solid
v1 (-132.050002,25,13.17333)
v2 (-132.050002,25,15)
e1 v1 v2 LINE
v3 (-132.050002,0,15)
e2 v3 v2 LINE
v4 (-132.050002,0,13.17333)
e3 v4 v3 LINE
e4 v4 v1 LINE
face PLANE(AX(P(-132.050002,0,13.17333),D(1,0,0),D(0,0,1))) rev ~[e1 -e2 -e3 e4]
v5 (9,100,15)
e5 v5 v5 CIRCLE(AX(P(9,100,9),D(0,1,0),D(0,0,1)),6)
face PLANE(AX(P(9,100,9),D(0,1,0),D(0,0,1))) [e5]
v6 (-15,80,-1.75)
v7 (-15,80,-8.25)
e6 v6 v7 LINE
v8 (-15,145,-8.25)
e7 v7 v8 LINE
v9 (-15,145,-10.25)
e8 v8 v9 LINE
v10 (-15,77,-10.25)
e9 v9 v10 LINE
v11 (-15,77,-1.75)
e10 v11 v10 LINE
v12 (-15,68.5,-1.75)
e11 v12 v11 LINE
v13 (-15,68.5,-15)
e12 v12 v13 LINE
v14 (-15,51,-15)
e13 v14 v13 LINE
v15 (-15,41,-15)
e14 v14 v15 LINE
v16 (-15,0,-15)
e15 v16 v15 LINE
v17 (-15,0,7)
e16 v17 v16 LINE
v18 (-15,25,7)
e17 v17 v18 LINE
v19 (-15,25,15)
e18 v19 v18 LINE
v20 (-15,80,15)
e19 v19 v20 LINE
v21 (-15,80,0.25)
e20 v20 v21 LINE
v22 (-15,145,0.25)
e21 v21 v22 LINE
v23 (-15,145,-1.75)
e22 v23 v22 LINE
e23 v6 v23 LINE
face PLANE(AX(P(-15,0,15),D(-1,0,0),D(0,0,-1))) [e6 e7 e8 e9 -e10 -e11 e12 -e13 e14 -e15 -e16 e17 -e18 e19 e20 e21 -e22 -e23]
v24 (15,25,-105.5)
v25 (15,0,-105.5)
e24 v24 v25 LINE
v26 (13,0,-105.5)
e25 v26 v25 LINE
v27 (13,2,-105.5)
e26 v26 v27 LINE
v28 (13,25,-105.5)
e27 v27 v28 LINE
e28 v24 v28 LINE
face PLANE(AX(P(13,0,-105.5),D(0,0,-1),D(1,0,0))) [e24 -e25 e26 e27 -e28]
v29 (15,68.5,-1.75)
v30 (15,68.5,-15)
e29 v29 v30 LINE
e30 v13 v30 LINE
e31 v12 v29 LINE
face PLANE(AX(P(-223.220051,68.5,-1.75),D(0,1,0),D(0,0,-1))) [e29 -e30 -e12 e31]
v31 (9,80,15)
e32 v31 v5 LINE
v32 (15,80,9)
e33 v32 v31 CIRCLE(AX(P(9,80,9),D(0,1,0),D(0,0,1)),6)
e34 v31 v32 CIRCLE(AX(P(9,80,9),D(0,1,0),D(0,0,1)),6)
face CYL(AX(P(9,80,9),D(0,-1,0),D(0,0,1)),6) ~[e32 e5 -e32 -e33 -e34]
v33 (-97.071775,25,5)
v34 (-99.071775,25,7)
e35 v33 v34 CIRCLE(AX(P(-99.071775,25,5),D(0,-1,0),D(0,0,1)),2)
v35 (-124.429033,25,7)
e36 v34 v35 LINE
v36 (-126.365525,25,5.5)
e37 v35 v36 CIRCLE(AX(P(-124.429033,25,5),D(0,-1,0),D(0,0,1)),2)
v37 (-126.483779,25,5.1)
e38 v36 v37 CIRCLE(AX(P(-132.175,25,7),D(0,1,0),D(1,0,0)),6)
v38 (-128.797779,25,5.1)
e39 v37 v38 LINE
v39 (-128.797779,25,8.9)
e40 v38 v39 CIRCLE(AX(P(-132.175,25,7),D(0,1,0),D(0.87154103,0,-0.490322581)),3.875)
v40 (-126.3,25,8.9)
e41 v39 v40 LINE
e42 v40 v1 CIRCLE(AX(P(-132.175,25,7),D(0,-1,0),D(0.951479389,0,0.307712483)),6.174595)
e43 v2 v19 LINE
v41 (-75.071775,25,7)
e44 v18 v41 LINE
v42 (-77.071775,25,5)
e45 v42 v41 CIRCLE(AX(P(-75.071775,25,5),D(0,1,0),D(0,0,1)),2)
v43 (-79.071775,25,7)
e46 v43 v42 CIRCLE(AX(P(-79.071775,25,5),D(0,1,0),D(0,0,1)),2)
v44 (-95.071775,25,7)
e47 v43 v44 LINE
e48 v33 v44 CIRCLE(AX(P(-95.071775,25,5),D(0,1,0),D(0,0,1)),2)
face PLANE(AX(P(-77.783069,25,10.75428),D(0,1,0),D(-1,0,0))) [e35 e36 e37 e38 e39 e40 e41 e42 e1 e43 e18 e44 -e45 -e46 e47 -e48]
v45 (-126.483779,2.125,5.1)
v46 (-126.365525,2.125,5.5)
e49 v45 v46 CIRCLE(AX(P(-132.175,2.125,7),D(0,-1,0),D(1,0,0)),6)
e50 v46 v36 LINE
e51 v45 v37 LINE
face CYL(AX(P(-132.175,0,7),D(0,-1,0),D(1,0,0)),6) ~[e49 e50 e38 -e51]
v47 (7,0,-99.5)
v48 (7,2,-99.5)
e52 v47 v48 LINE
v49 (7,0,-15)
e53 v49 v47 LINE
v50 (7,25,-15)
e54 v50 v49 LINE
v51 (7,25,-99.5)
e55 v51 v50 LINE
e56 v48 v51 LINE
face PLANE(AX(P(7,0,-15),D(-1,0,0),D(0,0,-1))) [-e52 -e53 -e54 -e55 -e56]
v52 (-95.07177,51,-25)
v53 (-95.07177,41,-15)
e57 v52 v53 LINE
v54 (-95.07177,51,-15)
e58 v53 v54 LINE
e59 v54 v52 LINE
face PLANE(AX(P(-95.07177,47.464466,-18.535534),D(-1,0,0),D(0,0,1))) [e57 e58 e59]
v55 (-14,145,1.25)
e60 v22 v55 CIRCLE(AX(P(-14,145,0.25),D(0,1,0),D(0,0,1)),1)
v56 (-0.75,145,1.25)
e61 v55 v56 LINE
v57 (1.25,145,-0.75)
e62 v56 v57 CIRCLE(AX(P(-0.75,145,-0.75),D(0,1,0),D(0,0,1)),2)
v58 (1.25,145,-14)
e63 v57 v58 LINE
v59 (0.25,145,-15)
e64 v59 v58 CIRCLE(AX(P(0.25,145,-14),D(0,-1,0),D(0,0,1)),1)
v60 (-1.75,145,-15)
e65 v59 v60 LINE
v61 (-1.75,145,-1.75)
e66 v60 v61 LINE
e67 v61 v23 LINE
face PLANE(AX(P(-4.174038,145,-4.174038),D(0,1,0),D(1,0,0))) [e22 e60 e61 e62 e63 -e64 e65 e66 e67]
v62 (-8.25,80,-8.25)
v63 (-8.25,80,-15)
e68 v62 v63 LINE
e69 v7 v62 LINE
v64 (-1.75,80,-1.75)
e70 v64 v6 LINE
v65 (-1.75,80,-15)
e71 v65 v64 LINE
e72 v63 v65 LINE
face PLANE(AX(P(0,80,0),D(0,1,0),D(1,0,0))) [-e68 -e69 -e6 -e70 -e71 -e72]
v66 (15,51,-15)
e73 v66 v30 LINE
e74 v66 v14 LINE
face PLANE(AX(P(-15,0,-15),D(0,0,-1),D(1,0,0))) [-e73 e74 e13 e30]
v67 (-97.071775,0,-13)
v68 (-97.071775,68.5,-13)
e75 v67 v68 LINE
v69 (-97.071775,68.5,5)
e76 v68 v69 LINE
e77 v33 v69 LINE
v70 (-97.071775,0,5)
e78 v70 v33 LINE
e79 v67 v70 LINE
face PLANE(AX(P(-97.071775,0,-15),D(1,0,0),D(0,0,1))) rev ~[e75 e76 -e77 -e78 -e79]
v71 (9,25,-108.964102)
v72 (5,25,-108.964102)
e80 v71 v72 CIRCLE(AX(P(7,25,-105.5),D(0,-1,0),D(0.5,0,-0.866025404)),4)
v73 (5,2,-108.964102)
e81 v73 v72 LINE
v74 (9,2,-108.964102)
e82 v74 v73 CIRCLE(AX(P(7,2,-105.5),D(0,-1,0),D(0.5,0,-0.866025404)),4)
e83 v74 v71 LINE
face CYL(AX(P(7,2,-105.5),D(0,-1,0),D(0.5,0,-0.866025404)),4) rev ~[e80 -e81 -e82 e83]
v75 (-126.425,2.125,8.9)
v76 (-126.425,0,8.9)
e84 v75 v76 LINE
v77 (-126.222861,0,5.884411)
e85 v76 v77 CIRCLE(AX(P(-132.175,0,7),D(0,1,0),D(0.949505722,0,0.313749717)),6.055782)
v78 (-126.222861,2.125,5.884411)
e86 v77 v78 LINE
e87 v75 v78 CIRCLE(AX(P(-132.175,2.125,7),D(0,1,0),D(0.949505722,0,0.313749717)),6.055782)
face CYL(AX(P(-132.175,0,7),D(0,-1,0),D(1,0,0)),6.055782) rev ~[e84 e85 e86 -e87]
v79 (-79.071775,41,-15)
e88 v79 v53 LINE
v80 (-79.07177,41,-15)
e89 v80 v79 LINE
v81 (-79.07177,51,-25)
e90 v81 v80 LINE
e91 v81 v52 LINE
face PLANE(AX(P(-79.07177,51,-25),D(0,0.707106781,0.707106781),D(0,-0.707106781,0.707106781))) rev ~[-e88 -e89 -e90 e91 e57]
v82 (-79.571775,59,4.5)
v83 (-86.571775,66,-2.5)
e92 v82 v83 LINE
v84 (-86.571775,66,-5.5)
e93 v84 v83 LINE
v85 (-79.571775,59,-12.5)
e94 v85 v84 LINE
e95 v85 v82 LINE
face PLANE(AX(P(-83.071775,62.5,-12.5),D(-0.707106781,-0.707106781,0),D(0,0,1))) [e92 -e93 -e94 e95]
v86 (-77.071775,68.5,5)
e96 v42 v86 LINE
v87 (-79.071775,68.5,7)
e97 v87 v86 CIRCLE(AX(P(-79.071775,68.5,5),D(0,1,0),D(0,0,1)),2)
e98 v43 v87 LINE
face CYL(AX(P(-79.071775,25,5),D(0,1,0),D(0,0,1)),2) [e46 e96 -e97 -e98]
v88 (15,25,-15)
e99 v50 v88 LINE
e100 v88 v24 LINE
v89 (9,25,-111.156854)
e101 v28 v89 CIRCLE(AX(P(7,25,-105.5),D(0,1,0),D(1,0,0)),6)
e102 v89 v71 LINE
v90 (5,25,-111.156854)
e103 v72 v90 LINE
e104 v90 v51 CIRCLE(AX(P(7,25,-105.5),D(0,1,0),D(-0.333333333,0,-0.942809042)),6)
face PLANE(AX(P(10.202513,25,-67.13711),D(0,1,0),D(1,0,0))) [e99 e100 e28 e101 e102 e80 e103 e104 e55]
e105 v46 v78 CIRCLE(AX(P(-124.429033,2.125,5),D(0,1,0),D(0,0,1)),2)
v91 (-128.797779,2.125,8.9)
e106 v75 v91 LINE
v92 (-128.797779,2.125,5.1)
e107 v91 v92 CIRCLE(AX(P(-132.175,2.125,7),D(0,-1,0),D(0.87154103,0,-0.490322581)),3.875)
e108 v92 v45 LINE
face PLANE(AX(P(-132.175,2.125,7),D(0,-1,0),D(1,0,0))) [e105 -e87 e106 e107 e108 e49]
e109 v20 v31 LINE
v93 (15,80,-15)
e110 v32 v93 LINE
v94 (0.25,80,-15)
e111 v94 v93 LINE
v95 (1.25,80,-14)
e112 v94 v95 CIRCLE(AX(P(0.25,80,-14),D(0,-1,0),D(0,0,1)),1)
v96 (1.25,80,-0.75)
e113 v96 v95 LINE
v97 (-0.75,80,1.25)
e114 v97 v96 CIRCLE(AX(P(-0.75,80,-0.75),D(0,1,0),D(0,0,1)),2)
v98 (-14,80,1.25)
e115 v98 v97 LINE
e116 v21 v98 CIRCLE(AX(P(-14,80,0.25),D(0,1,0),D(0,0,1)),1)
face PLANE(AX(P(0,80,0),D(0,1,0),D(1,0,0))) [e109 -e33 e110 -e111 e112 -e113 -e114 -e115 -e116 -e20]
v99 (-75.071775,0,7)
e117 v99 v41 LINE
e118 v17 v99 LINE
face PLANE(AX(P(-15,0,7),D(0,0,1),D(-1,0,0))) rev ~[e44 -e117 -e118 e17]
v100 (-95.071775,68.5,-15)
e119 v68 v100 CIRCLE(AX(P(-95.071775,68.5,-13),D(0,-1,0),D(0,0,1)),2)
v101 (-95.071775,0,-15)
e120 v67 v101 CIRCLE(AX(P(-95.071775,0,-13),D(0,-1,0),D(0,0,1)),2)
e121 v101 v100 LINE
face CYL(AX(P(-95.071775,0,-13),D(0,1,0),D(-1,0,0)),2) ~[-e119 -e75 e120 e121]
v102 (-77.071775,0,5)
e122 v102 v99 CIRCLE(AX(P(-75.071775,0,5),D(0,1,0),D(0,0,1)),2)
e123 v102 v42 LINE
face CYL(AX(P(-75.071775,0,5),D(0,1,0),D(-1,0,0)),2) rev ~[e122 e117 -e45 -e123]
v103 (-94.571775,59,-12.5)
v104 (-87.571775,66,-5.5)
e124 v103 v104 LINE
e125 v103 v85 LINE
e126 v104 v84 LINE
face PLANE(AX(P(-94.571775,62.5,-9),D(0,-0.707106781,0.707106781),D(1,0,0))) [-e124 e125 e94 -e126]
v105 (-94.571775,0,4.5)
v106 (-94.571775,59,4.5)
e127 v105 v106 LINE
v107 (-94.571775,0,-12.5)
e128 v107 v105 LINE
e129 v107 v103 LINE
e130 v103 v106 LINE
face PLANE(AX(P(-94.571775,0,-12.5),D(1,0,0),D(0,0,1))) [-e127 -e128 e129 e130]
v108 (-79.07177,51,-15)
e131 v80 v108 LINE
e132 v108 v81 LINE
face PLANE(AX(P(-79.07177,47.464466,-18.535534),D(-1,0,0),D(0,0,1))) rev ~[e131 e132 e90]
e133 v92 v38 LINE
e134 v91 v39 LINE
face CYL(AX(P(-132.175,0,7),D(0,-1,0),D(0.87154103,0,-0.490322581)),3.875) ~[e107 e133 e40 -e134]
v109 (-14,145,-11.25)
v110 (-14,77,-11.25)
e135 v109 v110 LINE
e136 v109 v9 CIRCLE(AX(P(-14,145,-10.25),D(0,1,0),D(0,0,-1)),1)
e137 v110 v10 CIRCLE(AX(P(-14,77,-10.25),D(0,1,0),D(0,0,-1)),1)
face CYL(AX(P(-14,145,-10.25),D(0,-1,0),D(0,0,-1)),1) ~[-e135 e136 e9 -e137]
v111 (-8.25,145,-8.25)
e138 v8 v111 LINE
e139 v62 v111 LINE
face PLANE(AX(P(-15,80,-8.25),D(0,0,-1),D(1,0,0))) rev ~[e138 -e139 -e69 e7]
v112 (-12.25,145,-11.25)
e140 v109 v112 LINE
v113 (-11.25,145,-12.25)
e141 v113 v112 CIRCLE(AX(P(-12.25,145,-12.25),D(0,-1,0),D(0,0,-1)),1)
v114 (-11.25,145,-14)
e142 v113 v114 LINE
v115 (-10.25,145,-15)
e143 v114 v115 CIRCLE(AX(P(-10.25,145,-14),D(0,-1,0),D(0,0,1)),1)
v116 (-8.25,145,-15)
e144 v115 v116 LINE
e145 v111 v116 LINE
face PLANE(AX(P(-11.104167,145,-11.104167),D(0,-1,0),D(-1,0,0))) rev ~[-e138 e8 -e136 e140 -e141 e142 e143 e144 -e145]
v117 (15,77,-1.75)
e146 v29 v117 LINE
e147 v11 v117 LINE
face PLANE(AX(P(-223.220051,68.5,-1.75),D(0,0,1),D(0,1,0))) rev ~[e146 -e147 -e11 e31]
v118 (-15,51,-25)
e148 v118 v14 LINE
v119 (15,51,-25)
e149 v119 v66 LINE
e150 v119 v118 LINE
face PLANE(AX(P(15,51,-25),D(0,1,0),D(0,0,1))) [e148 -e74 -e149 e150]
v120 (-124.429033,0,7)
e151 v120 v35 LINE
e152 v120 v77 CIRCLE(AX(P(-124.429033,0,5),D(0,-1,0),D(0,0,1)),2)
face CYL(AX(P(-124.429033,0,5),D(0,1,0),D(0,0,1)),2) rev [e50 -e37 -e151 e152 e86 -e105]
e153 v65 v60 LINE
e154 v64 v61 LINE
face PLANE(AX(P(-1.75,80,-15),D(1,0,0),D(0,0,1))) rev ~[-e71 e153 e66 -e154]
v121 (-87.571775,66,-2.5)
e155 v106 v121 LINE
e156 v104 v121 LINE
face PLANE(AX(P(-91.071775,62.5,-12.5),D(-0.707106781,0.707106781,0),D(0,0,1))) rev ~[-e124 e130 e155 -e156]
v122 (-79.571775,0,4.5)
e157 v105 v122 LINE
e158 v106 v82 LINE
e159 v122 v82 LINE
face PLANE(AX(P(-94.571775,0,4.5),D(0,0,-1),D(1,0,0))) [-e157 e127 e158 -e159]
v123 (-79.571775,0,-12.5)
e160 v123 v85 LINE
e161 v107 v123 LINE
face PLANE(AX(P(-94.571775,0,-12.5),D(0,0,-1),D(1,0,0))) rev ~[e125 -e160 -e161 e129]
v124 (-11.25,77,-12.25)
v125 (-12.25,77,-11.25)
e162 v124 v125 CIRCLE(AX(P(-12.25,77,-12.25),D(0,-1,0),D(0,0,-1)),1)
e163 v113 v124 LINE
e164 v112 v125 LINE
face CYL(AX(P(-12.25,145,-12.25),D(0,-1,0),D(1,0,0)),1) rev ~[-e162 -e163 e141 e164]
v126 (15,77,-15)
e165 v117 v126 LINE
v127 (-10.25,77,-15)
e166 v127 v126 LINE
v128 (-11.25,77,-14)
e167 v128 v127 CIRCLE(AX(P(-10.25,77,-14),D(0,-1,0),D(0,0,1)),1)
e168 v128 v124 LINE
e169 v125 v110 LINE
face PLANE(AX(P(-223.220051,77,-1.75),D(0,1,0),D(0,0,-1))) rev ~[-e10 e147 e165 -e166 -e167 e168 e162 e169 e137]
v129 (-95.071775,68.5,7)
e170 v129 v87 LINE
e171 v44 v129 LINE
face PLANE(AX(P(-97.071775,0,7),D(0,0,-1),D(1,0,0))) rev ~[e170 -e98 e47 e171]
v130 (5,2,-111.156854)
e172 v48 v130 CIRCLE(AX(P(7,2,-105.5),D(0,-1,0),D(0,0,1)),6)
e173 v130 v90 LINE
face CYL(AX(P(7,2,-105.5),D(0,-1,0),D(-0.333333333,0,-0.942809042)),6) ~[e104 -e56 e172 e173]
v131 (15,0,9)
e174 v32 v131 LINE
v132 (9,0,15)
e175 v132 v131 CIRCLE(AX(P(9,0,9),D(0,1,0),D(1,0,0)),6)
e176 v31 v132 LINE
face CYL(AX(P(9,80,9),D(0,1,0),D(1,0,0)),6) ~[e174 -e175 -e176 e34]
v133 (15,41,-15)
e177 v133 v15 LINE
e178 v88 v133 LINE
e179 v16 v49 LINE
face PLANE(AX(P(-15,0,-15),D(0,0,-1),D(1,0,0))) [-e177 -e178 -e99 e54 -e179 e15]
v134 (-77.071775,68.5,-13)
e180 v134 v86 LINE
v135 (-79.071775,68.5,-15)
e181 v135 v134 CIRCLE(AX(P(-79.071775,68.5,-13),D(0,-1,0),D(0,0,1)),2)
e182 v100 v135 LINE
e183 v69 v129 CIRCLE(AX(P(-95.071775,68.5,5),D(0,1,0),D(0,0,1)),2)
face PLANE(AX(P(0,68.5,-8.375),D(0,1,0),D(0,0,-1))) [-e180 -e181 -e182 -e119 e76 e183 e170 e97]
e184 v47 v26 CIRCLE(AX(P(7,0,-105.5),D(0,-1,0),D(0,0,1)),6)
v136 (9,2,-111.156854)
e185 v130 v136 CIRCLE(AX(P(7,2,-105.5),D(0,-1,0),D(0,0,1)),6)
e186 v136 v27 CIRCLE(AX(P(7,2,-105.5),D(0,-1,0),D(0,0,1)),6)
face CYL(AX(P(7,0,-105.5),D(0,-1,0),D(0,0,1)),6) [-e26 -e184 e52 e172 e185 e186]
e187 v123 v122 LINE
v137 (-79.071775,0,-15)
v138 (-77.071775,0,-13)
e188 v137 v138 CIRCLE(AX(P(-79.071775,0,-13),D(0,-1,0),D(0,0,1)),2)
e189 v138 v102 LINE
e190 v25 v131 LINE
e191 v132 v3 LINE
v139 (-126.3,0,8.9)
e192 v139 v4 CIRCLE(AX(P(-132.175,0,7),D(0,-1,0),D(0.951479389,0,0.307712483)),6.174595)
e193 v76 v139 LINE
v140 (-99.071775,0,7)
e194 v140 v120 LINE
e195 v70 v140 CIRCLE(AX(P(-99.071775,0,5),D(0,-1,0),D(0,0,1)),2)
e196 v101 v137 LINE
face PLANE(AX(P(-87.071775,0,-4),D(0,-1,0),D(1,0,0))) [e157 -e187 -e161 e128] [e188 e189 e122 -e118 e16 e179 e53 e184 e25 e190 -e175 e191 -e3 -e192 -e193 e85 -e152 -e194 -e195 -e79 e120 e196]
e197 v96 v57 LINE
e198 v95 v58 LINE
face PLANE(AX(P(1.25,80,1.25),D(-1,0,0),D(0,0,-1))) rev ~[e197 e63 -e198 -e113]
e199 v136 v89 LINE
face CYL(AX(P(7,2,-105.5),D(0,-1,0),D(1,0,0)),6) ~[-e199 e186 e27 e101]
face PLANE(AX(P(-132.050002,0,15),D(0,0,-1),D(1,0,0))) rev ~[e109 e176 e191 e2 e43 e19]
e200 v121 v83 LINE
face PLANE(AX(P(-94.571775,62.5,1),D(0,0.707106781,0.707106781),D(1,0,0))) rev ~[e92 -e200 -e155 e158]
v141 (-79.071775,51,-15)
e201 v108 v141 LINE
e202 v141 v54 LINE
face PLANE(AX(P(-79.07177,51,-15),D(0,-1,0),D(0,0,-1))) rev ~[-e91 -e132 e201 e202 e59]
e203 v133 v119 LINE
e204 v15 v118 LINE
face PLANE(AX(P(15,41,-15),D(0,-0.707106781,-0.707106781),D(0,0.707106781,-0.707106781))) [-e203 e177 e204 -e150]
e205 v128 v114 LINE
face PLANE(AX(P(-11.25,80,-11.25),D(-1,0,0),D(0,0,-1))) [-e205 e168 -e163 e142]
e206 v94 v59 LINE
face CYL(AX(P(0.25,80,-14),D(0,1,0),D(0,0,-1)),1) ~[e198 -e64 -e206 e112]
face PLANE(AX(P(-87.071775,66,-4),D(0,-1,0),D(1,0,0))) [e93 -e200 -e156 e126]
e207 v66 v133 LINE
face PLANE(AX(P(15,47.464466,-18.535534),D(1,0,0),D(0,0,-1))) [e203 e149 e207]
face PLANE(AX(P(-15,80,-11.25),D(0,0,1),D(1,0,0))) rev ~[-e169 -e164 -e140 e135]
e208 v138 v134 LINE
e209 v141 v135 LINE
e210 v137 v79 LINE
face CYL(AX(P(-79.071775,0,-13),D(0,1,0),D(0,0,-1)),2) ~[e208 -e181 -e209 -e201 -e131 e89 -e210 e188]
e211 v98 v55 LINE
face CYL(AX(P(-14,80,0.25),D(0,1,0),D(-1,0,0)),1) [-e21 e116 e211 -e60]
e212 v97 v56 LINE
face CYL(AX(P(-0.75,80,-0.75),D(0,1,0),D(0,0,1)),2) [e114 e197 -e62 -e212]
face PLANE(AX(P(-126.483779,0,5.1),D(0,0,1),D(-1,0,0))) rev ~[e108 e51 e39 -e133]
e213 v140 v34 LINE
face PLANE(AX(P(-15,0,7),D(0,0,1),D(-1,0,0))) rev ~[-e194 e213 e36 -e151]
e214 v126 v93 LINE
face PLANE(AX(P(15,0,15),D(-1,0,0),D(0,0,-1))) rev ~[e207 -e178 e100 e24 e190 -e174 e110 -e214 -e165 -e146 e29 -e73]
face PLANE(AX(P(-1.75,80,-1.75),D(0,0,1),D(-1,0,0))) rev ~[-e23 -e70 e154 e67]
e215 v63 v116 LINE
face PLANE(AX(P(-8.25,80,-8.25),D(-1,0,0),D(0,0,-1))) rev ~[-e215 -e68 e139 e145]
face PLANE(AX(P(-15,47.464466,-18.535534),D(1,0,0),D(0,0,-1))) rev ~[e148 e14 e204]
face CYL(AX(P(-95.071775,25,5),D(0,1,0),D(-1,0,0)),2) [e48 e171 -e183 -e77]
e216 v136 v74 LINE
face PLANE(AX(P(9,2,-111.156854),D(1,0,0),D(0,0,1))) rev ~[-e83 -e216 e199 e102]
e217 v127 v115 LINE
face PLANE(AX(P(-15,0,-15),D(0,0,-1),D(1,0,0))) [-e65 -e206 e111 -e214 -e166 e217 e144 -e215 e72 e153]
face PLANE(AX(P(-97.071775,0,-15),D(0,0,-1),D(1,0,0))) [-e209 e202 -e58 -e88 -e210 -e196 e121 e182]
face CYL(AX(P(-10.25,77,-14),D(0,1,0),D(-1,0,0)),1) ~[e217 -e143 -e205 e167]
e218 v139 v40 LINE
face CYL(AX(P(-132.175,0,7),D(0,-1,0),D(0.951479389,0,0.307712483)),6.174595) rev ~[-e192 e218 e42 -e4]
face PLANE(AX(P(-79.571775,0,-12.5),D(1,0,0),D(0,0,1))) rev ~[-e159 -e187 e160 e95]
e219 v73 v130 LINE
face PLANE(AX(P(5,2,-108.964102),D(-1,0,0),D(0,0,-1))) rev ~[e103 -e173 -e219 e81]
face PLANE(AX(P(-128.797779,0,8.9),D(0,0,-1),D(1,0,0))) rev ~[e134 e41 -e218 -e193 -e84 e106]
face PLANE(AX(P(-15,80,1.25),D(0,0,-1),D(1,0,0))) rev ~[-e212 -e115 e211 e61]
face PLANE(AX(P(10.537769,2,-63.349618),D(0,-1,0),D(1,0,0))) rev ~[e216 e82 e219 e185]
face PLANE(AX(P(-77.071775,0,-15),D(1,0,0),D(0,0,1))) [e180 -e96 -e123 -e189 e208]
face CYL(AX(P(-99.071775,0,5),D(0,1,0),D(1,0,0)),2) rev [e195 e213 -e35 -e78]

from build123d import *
from build123d.topology import SkipClean

# Parameters (mm, degrees)
SKETCH1_W                 = 30
SKETCH1_H                 = 30
BOSS_EXTRUDE1_DEPTH       = 80
SKETCH2_R                 = 6
BOSS_EXTRUDE2_DEPTH       = 20
CUT_EXTRUDE1_DEPTH        = 83.764726786
BOSS_EXTRUDE3_DEPTH       = 65
BOSS_EXTRUDE5_DEPTH       = 2
BOSS_EXTRUDE6_DEPTH       = 23
BOSS_EXTRUDE7_DEPTH       = 25
FILLET1_R                 = 2
SKETCH11_R                = 6.055782361
CUT_EXTRUDE2_DEPTH        = 2.125
CUT_EXTRUDE3_DEPTH        = 238.220050797
CUT_EXTRUDE3_DEPTH_BACK   = 238.220050797
SKETCH12_W                = 13.25
SKETCH12_H                = 8.5
FILLET2_R                 = 2
CUT_EXTRUDE4_REACH        = 195.24
SKETCH15_W                = 3.75
SKETCH15_H                = 3.75
FILLET3_R                 = 1
BOSS_EXTRUDE8_REACH       = 229.962
SKETCH16_W                = 20
SKETCH16_H                = 22
FILLET4_R                 = 2
FILLET5_R                 = 2
SKETCH17_W                = 15
SKETCH17_H                = 17
CUT_EXTRUDE5_DEPTH        = 66
CHAMFER1_SIZE             = 7
BOSS_EXTRUDE9_DEPTH       = 30
BOSS_EXTRUDE10_DEPTH      = 7.999995
BOSS_EXTRUDE10_DEPTH_BACK = 8.000005


with BuildPart() as part:
    # Sketch1 → Boss-Extrude1 (new body)
    with BuildSketch(Plane(origin=(0, 0, 0), x_dir=(1, 0, 0), z_dir=(0, 1, 0))):
        Rectangle(SKETCH1_W, SKETCH1_H)
    extrude(amount=BOSS_EXTRUDE1_DEPTH)

    # Sketch2 → Boss-Extrude2 (add)
    with BuildSketch(Plane(origin=(0, 80, 0), x_dir=(1, 0, 0), z_dir=(0, 1, 0))):
        with Locations(Location((9, -9, 0), (0, 0, 270))):
            Circle(SKETCH2_R)
    extrude(amount=BOSS_EXTRUDE2_DEPTH)

    # Sketch3 → Cut-Extrude1 (cut, through all)
    with BuildSketch(Plane(origin=(0, 80, 0), x_dir=(1, 0, 0), z_dir=(0, 1, 0))):
        with BuildLine():
            Line((9, -15), (15, -15))
            Line((15, -15), (15, -9))
            ThreePointArc((15, -9), (13.242640687, -13.242640687), (9, -15))
        make_face()
    extrude(amount=-CUT_EXTRUDE1_DEPTH, mode=Mode.SUBTRACT)

    # Sketch4 → Boss-Extrude3 (add)
    with BuildSketch(Plane(origin=(0, 80, 0), x_dir=(1, 0, 0), z_dir=(0, 1, 0))):
        Polygon((1.25, 11.25), (1.25, 15), (-1.75, 15), (-1.75, 11.25), (-1.75, 1.75), (-11.25, 1.75), (-15, 1.75), (-15, -1.25), (-11.25, -1.25), (1.25, -1.25), align=None)
        Polygon((-8.25, 11.25), (-8.25, 8.25), (-11.25, 8.25), (-15, 8.25), (-15, 11.25), (-11.25, 11.25), (-11.25, 15), (-8.25, 15), align=None)
    extrude(amount=BOSS_EXTRUDE3_DEPTH)

    # Sketch6 → Boss-Extrude5 (add)
    with BuildSketch(Plane.XZ):
        with BuildLine():
            Line((15, -15), (7, -15))
            Line((7, -15), (7, -99.5))
            ThreePointArc((7, -99.5), (2.757359313, -109.742640687), (13, -105.5))
            Line((13, -105.5), (15, -105.5))
            Line((15, -105.5), (15, -15))
        make_face()
    extrude(amount=-BOSS_EXTRUDE5_DEPTH)

    # Sketch7 → Boss-Extrude6 (add)
    with SkipClean():  # the faces are left unmerged after this step: merging them gives an invalid solid
        with BuildSketch(Plane(origin=(0, 2, 0), x_dir=(1, 0, 0), z_dir=(0, 1, 0))):
            with BuildLine():
                Line((9, 111.156854249), (9, 108.964101615))
                ThreePointArc((9, 108.964101615), (7, 101.5), (5, 108.964101615))
                Line((5, 108.964101615), (5, 111.156854249))
                ThreePointArc((5, 111.156854249), (1.086408642, 104.485388128), (7, 99.5))
                Line((7, 99.5), (7, 15))
                Line((7, 15), (15, 15))
                Line((15, 15), (15, 105.5))
                Line((15, 105.5), (13, 105.5))
                ThreePointArc((13, 105.5), (11.898979486, 108.964101615), (9, 111.156854249))
            make_face()
        extrude(amount=BOSS_EXTRUDE6_DEPTH)

    # Sketch9 → Boss-Extrude7 (add)
    with SkipClean():  # the faces are left unmerged after this step: merging them gives an invalid solid
        with BuildSketch(Plane.XZ):
            with BuildLine():
                Line((-15, 15), (-15, 7))
                Line((-15, 7), (-126.175, 7))
                ThreePointArc((-126.175, 7), (-126.252697751, 6.037536458), (-126.48377869, 5.1))
                Line((-126.48377869, 5.1), (-128.797778509, 5.1))
                ThreePointArc((-128.797778509, 5.1), (-136.05, 7), (-128.797778509, 8.9))
                Line((-128.797778509, 8.9), (-126.3, 8.9))
                ThreePointArc((-126.3, 8.9), (-128.491885554, 11.955834237), (-132.050001601, 13.173329766))
                Line((-132.050001601, 13.173329766), (-132.050001601, 15))
                Line((-132.050001601, 15), (-15, 15))
            make_face()
        extrude(amount=-BOSS_EXTRUDE7_DEPTH)

    # Fillet1
    fillet1_edges = [part.edges().sort_by_distance(p)[0] for p in [
        (-126.175, 12.5, 7),
    ]]
    fillet(fillet1_edges, radius=FILLET1_R)

    # Sketch11 → Cut-Extrude2 (cut)
    with SkipClean():  # the faces are left unmerged after this step: merging them gives an invalid solid
        with BuildSketch(Plane.XZ):
            with Locations((-132.175, 7)):
                Circle(SKETCH11_R)
        extrude(amount=-CUT_EXTRUDE2_DEPTH, mode=Mode.SUBTRACT)

    # Sketch12 → Cut-Extrude3 (cut, two sides: drawn at the far end of the back side and taken through both)
    with SkipClean():  # the faces are left unmerged after this step: merging them gives an invalid solid
        with BuildSketch(Plane(origin=(15, 0, 0), x_dir=(0, 0, -1), z_dir=(1, 0, 0)).offset(-CUT_EXTRUDE3_DEPTH_BACK)):
            with Locations((8.375, 72.75)):
                Rectangle(SKETCH12_W, SKETCH12_H)
        extrude(amount=CUT_EXTRUDE3_DEPTH + CUT_EXTRUDE3_DEPTH_BACK, mode=Mode.SUBTRACT)

    # Fillet2
    fillet2_edges = [part.edges().sort_by_distance(p)[0] for p in [
        (1.25, 112.5, 1.25),
    ]]
    fillet(fillet2_edges, radius=FILLET2_R)

    # Sketch15 → Cut-Extrude4 (cut, up to next)
    with BuildSketch(Plane(origin=(0, 80, 0), x_dir=(1, 0, 0), z_dir=(0, 1, 0)), mode=Mode.PRIVATE) as cut_extrude4_sk1:
        with Locations((-13.125, 13.125)):
            Rectangle(SKETCH15_W, SKETCH15_H)
    cut_extrude4_tool1 = extrude(cut_extrude4_sk1.sketch, amount=-CUT_EXTRUDE4_REACH, mode=Mode.PRIVATE) & part.part
    add(cut_extrude4_tool1.solids().sort_by_distance((-13.125, 80, -13.125))[0], mode=Mode.SUBTRACT)

    # Fillet3
    fillet3_edges = [part.edges().sort_by_distance(p)[0] for p in [
        (-11.25, 112.5, -15),
        (-11.25, 112.5, -11.25),
        (-15, 112.5, -11.25),
        (-15, 112.5, 1.25),
        (1.25, 112.5, -15),
    ]]
    fillet(fillet3_edges, radius=FILLET3_R)

    # Boss-Extrude8: up to this face of the body (flat: up to its plane)
    boss_extrude8_end = Plane(part.part.faces().sort_by_distance((0, 68.5, -8.375))[0])
    # Sketch16 → Boss-Extrude8 (add, up to the picked face)
    with BuildSketch(Plane.XZ, mode=Mode.PRIVATE) as boss_extrude8_sk1:
        with Locations((-87.071774981, -4)):
            Rectangle(SKETCH16_W, SKETCH16_H)
    boss_extrude8_tool1 = split(extrude(boss_extrude8_sk1.sketch, amount=-BOSS_EXTRUDE8_REACH, mode=Mode.PRIVATE), bisect_by=boss_extrude8_end, keep=Keep.BOTH, mode=Mode.PRIVATE)
    add(boss_extrude8_tool1.solids().sort_by(Axis((-87.071775, 0, -4), (0, 1, 0)))[0])

    # Fillet4
    fillet4_edges = [part.edges().sort_by_distance(p)[0] for p in [
        (-77.071774981, 12.5, 7),
        (-77.071774981, 34.25, -15),
        (-97.071774981, 34.25, -15),
        (-97.071774981, 12.5, 7),
    ]]
    fillet(fillet4_edges, radius=FILLET4_R)

    # Fillet5
    fillet5_edges = [part.edges().sort_by_distance(p)[0] for p in [
        (-77.071774981, 46.75, 7),
        (-97.071774981, 46.75, 7),
    ]]
    fillet(fillet5_edges, radius=FILLET5_R)

    # Sketch17 → Cut-Extrude5 (cut)
    with SkipClean():  # the faces are left unmerged after this step: merging them gives an invalid solid
        with BuildSketch(Plane.XZ):
            with Locations((-87.071774981, -4)):
                Rectangle(SKETCH17_W, SKETCH17_H)
        extrude(amount=-CUT_EXTRUDE5_DEPTH, mode=Mode.SUBTRACT)

    # Chamfer1
    chamfer1_edges = [part.edges().sort_by_distance(p)[0] for p in [
        (-94.571774981, 66, -4),
        (-87.071774981, 66, 4.5),
        (-79.571774981, 66, -4),
        (-87.071774981, 66, -12.5),
    ]]
    chamfer(chamfer1_edges, length=CHAMFER1_SIZE)

    # Sketch18 → Boss-Extrude9 (add)
    with SkipClean():  # the faces are left unmerged after this step: merging them gives an invalid solid
        with BuildSketch(Plane(origin=(15, 0, 0), x_dir=(0, 0, -1), z_dir=(1, 0, 0))):
            Polygon((15, 51), (15, 41), (25, 51), align=None)
        extrude(amount=-BOSS_EXTRUDE9_DEPTH)

    # Sketch19 → Boss-Extrude10 (add, two sides: drawn at the far end of the back side and taken through both)
    with SkipClean():  # the faces are left unmerged after this step: merging them gives an invalid solid
        with BuildSketch(Plane.ZY.offset(87.071774981).offset(-BOSS_EXTRUDE10_DEPTH_BACK)):
            Polygon((-15, 41), (-15, 51), (-25, 51), align=None)
        extrude(amount=BOSS_EXTRUDE10_DEPTH + BOSS_EXTRUDE10_DEPTH_BACK)


solid = part.part
